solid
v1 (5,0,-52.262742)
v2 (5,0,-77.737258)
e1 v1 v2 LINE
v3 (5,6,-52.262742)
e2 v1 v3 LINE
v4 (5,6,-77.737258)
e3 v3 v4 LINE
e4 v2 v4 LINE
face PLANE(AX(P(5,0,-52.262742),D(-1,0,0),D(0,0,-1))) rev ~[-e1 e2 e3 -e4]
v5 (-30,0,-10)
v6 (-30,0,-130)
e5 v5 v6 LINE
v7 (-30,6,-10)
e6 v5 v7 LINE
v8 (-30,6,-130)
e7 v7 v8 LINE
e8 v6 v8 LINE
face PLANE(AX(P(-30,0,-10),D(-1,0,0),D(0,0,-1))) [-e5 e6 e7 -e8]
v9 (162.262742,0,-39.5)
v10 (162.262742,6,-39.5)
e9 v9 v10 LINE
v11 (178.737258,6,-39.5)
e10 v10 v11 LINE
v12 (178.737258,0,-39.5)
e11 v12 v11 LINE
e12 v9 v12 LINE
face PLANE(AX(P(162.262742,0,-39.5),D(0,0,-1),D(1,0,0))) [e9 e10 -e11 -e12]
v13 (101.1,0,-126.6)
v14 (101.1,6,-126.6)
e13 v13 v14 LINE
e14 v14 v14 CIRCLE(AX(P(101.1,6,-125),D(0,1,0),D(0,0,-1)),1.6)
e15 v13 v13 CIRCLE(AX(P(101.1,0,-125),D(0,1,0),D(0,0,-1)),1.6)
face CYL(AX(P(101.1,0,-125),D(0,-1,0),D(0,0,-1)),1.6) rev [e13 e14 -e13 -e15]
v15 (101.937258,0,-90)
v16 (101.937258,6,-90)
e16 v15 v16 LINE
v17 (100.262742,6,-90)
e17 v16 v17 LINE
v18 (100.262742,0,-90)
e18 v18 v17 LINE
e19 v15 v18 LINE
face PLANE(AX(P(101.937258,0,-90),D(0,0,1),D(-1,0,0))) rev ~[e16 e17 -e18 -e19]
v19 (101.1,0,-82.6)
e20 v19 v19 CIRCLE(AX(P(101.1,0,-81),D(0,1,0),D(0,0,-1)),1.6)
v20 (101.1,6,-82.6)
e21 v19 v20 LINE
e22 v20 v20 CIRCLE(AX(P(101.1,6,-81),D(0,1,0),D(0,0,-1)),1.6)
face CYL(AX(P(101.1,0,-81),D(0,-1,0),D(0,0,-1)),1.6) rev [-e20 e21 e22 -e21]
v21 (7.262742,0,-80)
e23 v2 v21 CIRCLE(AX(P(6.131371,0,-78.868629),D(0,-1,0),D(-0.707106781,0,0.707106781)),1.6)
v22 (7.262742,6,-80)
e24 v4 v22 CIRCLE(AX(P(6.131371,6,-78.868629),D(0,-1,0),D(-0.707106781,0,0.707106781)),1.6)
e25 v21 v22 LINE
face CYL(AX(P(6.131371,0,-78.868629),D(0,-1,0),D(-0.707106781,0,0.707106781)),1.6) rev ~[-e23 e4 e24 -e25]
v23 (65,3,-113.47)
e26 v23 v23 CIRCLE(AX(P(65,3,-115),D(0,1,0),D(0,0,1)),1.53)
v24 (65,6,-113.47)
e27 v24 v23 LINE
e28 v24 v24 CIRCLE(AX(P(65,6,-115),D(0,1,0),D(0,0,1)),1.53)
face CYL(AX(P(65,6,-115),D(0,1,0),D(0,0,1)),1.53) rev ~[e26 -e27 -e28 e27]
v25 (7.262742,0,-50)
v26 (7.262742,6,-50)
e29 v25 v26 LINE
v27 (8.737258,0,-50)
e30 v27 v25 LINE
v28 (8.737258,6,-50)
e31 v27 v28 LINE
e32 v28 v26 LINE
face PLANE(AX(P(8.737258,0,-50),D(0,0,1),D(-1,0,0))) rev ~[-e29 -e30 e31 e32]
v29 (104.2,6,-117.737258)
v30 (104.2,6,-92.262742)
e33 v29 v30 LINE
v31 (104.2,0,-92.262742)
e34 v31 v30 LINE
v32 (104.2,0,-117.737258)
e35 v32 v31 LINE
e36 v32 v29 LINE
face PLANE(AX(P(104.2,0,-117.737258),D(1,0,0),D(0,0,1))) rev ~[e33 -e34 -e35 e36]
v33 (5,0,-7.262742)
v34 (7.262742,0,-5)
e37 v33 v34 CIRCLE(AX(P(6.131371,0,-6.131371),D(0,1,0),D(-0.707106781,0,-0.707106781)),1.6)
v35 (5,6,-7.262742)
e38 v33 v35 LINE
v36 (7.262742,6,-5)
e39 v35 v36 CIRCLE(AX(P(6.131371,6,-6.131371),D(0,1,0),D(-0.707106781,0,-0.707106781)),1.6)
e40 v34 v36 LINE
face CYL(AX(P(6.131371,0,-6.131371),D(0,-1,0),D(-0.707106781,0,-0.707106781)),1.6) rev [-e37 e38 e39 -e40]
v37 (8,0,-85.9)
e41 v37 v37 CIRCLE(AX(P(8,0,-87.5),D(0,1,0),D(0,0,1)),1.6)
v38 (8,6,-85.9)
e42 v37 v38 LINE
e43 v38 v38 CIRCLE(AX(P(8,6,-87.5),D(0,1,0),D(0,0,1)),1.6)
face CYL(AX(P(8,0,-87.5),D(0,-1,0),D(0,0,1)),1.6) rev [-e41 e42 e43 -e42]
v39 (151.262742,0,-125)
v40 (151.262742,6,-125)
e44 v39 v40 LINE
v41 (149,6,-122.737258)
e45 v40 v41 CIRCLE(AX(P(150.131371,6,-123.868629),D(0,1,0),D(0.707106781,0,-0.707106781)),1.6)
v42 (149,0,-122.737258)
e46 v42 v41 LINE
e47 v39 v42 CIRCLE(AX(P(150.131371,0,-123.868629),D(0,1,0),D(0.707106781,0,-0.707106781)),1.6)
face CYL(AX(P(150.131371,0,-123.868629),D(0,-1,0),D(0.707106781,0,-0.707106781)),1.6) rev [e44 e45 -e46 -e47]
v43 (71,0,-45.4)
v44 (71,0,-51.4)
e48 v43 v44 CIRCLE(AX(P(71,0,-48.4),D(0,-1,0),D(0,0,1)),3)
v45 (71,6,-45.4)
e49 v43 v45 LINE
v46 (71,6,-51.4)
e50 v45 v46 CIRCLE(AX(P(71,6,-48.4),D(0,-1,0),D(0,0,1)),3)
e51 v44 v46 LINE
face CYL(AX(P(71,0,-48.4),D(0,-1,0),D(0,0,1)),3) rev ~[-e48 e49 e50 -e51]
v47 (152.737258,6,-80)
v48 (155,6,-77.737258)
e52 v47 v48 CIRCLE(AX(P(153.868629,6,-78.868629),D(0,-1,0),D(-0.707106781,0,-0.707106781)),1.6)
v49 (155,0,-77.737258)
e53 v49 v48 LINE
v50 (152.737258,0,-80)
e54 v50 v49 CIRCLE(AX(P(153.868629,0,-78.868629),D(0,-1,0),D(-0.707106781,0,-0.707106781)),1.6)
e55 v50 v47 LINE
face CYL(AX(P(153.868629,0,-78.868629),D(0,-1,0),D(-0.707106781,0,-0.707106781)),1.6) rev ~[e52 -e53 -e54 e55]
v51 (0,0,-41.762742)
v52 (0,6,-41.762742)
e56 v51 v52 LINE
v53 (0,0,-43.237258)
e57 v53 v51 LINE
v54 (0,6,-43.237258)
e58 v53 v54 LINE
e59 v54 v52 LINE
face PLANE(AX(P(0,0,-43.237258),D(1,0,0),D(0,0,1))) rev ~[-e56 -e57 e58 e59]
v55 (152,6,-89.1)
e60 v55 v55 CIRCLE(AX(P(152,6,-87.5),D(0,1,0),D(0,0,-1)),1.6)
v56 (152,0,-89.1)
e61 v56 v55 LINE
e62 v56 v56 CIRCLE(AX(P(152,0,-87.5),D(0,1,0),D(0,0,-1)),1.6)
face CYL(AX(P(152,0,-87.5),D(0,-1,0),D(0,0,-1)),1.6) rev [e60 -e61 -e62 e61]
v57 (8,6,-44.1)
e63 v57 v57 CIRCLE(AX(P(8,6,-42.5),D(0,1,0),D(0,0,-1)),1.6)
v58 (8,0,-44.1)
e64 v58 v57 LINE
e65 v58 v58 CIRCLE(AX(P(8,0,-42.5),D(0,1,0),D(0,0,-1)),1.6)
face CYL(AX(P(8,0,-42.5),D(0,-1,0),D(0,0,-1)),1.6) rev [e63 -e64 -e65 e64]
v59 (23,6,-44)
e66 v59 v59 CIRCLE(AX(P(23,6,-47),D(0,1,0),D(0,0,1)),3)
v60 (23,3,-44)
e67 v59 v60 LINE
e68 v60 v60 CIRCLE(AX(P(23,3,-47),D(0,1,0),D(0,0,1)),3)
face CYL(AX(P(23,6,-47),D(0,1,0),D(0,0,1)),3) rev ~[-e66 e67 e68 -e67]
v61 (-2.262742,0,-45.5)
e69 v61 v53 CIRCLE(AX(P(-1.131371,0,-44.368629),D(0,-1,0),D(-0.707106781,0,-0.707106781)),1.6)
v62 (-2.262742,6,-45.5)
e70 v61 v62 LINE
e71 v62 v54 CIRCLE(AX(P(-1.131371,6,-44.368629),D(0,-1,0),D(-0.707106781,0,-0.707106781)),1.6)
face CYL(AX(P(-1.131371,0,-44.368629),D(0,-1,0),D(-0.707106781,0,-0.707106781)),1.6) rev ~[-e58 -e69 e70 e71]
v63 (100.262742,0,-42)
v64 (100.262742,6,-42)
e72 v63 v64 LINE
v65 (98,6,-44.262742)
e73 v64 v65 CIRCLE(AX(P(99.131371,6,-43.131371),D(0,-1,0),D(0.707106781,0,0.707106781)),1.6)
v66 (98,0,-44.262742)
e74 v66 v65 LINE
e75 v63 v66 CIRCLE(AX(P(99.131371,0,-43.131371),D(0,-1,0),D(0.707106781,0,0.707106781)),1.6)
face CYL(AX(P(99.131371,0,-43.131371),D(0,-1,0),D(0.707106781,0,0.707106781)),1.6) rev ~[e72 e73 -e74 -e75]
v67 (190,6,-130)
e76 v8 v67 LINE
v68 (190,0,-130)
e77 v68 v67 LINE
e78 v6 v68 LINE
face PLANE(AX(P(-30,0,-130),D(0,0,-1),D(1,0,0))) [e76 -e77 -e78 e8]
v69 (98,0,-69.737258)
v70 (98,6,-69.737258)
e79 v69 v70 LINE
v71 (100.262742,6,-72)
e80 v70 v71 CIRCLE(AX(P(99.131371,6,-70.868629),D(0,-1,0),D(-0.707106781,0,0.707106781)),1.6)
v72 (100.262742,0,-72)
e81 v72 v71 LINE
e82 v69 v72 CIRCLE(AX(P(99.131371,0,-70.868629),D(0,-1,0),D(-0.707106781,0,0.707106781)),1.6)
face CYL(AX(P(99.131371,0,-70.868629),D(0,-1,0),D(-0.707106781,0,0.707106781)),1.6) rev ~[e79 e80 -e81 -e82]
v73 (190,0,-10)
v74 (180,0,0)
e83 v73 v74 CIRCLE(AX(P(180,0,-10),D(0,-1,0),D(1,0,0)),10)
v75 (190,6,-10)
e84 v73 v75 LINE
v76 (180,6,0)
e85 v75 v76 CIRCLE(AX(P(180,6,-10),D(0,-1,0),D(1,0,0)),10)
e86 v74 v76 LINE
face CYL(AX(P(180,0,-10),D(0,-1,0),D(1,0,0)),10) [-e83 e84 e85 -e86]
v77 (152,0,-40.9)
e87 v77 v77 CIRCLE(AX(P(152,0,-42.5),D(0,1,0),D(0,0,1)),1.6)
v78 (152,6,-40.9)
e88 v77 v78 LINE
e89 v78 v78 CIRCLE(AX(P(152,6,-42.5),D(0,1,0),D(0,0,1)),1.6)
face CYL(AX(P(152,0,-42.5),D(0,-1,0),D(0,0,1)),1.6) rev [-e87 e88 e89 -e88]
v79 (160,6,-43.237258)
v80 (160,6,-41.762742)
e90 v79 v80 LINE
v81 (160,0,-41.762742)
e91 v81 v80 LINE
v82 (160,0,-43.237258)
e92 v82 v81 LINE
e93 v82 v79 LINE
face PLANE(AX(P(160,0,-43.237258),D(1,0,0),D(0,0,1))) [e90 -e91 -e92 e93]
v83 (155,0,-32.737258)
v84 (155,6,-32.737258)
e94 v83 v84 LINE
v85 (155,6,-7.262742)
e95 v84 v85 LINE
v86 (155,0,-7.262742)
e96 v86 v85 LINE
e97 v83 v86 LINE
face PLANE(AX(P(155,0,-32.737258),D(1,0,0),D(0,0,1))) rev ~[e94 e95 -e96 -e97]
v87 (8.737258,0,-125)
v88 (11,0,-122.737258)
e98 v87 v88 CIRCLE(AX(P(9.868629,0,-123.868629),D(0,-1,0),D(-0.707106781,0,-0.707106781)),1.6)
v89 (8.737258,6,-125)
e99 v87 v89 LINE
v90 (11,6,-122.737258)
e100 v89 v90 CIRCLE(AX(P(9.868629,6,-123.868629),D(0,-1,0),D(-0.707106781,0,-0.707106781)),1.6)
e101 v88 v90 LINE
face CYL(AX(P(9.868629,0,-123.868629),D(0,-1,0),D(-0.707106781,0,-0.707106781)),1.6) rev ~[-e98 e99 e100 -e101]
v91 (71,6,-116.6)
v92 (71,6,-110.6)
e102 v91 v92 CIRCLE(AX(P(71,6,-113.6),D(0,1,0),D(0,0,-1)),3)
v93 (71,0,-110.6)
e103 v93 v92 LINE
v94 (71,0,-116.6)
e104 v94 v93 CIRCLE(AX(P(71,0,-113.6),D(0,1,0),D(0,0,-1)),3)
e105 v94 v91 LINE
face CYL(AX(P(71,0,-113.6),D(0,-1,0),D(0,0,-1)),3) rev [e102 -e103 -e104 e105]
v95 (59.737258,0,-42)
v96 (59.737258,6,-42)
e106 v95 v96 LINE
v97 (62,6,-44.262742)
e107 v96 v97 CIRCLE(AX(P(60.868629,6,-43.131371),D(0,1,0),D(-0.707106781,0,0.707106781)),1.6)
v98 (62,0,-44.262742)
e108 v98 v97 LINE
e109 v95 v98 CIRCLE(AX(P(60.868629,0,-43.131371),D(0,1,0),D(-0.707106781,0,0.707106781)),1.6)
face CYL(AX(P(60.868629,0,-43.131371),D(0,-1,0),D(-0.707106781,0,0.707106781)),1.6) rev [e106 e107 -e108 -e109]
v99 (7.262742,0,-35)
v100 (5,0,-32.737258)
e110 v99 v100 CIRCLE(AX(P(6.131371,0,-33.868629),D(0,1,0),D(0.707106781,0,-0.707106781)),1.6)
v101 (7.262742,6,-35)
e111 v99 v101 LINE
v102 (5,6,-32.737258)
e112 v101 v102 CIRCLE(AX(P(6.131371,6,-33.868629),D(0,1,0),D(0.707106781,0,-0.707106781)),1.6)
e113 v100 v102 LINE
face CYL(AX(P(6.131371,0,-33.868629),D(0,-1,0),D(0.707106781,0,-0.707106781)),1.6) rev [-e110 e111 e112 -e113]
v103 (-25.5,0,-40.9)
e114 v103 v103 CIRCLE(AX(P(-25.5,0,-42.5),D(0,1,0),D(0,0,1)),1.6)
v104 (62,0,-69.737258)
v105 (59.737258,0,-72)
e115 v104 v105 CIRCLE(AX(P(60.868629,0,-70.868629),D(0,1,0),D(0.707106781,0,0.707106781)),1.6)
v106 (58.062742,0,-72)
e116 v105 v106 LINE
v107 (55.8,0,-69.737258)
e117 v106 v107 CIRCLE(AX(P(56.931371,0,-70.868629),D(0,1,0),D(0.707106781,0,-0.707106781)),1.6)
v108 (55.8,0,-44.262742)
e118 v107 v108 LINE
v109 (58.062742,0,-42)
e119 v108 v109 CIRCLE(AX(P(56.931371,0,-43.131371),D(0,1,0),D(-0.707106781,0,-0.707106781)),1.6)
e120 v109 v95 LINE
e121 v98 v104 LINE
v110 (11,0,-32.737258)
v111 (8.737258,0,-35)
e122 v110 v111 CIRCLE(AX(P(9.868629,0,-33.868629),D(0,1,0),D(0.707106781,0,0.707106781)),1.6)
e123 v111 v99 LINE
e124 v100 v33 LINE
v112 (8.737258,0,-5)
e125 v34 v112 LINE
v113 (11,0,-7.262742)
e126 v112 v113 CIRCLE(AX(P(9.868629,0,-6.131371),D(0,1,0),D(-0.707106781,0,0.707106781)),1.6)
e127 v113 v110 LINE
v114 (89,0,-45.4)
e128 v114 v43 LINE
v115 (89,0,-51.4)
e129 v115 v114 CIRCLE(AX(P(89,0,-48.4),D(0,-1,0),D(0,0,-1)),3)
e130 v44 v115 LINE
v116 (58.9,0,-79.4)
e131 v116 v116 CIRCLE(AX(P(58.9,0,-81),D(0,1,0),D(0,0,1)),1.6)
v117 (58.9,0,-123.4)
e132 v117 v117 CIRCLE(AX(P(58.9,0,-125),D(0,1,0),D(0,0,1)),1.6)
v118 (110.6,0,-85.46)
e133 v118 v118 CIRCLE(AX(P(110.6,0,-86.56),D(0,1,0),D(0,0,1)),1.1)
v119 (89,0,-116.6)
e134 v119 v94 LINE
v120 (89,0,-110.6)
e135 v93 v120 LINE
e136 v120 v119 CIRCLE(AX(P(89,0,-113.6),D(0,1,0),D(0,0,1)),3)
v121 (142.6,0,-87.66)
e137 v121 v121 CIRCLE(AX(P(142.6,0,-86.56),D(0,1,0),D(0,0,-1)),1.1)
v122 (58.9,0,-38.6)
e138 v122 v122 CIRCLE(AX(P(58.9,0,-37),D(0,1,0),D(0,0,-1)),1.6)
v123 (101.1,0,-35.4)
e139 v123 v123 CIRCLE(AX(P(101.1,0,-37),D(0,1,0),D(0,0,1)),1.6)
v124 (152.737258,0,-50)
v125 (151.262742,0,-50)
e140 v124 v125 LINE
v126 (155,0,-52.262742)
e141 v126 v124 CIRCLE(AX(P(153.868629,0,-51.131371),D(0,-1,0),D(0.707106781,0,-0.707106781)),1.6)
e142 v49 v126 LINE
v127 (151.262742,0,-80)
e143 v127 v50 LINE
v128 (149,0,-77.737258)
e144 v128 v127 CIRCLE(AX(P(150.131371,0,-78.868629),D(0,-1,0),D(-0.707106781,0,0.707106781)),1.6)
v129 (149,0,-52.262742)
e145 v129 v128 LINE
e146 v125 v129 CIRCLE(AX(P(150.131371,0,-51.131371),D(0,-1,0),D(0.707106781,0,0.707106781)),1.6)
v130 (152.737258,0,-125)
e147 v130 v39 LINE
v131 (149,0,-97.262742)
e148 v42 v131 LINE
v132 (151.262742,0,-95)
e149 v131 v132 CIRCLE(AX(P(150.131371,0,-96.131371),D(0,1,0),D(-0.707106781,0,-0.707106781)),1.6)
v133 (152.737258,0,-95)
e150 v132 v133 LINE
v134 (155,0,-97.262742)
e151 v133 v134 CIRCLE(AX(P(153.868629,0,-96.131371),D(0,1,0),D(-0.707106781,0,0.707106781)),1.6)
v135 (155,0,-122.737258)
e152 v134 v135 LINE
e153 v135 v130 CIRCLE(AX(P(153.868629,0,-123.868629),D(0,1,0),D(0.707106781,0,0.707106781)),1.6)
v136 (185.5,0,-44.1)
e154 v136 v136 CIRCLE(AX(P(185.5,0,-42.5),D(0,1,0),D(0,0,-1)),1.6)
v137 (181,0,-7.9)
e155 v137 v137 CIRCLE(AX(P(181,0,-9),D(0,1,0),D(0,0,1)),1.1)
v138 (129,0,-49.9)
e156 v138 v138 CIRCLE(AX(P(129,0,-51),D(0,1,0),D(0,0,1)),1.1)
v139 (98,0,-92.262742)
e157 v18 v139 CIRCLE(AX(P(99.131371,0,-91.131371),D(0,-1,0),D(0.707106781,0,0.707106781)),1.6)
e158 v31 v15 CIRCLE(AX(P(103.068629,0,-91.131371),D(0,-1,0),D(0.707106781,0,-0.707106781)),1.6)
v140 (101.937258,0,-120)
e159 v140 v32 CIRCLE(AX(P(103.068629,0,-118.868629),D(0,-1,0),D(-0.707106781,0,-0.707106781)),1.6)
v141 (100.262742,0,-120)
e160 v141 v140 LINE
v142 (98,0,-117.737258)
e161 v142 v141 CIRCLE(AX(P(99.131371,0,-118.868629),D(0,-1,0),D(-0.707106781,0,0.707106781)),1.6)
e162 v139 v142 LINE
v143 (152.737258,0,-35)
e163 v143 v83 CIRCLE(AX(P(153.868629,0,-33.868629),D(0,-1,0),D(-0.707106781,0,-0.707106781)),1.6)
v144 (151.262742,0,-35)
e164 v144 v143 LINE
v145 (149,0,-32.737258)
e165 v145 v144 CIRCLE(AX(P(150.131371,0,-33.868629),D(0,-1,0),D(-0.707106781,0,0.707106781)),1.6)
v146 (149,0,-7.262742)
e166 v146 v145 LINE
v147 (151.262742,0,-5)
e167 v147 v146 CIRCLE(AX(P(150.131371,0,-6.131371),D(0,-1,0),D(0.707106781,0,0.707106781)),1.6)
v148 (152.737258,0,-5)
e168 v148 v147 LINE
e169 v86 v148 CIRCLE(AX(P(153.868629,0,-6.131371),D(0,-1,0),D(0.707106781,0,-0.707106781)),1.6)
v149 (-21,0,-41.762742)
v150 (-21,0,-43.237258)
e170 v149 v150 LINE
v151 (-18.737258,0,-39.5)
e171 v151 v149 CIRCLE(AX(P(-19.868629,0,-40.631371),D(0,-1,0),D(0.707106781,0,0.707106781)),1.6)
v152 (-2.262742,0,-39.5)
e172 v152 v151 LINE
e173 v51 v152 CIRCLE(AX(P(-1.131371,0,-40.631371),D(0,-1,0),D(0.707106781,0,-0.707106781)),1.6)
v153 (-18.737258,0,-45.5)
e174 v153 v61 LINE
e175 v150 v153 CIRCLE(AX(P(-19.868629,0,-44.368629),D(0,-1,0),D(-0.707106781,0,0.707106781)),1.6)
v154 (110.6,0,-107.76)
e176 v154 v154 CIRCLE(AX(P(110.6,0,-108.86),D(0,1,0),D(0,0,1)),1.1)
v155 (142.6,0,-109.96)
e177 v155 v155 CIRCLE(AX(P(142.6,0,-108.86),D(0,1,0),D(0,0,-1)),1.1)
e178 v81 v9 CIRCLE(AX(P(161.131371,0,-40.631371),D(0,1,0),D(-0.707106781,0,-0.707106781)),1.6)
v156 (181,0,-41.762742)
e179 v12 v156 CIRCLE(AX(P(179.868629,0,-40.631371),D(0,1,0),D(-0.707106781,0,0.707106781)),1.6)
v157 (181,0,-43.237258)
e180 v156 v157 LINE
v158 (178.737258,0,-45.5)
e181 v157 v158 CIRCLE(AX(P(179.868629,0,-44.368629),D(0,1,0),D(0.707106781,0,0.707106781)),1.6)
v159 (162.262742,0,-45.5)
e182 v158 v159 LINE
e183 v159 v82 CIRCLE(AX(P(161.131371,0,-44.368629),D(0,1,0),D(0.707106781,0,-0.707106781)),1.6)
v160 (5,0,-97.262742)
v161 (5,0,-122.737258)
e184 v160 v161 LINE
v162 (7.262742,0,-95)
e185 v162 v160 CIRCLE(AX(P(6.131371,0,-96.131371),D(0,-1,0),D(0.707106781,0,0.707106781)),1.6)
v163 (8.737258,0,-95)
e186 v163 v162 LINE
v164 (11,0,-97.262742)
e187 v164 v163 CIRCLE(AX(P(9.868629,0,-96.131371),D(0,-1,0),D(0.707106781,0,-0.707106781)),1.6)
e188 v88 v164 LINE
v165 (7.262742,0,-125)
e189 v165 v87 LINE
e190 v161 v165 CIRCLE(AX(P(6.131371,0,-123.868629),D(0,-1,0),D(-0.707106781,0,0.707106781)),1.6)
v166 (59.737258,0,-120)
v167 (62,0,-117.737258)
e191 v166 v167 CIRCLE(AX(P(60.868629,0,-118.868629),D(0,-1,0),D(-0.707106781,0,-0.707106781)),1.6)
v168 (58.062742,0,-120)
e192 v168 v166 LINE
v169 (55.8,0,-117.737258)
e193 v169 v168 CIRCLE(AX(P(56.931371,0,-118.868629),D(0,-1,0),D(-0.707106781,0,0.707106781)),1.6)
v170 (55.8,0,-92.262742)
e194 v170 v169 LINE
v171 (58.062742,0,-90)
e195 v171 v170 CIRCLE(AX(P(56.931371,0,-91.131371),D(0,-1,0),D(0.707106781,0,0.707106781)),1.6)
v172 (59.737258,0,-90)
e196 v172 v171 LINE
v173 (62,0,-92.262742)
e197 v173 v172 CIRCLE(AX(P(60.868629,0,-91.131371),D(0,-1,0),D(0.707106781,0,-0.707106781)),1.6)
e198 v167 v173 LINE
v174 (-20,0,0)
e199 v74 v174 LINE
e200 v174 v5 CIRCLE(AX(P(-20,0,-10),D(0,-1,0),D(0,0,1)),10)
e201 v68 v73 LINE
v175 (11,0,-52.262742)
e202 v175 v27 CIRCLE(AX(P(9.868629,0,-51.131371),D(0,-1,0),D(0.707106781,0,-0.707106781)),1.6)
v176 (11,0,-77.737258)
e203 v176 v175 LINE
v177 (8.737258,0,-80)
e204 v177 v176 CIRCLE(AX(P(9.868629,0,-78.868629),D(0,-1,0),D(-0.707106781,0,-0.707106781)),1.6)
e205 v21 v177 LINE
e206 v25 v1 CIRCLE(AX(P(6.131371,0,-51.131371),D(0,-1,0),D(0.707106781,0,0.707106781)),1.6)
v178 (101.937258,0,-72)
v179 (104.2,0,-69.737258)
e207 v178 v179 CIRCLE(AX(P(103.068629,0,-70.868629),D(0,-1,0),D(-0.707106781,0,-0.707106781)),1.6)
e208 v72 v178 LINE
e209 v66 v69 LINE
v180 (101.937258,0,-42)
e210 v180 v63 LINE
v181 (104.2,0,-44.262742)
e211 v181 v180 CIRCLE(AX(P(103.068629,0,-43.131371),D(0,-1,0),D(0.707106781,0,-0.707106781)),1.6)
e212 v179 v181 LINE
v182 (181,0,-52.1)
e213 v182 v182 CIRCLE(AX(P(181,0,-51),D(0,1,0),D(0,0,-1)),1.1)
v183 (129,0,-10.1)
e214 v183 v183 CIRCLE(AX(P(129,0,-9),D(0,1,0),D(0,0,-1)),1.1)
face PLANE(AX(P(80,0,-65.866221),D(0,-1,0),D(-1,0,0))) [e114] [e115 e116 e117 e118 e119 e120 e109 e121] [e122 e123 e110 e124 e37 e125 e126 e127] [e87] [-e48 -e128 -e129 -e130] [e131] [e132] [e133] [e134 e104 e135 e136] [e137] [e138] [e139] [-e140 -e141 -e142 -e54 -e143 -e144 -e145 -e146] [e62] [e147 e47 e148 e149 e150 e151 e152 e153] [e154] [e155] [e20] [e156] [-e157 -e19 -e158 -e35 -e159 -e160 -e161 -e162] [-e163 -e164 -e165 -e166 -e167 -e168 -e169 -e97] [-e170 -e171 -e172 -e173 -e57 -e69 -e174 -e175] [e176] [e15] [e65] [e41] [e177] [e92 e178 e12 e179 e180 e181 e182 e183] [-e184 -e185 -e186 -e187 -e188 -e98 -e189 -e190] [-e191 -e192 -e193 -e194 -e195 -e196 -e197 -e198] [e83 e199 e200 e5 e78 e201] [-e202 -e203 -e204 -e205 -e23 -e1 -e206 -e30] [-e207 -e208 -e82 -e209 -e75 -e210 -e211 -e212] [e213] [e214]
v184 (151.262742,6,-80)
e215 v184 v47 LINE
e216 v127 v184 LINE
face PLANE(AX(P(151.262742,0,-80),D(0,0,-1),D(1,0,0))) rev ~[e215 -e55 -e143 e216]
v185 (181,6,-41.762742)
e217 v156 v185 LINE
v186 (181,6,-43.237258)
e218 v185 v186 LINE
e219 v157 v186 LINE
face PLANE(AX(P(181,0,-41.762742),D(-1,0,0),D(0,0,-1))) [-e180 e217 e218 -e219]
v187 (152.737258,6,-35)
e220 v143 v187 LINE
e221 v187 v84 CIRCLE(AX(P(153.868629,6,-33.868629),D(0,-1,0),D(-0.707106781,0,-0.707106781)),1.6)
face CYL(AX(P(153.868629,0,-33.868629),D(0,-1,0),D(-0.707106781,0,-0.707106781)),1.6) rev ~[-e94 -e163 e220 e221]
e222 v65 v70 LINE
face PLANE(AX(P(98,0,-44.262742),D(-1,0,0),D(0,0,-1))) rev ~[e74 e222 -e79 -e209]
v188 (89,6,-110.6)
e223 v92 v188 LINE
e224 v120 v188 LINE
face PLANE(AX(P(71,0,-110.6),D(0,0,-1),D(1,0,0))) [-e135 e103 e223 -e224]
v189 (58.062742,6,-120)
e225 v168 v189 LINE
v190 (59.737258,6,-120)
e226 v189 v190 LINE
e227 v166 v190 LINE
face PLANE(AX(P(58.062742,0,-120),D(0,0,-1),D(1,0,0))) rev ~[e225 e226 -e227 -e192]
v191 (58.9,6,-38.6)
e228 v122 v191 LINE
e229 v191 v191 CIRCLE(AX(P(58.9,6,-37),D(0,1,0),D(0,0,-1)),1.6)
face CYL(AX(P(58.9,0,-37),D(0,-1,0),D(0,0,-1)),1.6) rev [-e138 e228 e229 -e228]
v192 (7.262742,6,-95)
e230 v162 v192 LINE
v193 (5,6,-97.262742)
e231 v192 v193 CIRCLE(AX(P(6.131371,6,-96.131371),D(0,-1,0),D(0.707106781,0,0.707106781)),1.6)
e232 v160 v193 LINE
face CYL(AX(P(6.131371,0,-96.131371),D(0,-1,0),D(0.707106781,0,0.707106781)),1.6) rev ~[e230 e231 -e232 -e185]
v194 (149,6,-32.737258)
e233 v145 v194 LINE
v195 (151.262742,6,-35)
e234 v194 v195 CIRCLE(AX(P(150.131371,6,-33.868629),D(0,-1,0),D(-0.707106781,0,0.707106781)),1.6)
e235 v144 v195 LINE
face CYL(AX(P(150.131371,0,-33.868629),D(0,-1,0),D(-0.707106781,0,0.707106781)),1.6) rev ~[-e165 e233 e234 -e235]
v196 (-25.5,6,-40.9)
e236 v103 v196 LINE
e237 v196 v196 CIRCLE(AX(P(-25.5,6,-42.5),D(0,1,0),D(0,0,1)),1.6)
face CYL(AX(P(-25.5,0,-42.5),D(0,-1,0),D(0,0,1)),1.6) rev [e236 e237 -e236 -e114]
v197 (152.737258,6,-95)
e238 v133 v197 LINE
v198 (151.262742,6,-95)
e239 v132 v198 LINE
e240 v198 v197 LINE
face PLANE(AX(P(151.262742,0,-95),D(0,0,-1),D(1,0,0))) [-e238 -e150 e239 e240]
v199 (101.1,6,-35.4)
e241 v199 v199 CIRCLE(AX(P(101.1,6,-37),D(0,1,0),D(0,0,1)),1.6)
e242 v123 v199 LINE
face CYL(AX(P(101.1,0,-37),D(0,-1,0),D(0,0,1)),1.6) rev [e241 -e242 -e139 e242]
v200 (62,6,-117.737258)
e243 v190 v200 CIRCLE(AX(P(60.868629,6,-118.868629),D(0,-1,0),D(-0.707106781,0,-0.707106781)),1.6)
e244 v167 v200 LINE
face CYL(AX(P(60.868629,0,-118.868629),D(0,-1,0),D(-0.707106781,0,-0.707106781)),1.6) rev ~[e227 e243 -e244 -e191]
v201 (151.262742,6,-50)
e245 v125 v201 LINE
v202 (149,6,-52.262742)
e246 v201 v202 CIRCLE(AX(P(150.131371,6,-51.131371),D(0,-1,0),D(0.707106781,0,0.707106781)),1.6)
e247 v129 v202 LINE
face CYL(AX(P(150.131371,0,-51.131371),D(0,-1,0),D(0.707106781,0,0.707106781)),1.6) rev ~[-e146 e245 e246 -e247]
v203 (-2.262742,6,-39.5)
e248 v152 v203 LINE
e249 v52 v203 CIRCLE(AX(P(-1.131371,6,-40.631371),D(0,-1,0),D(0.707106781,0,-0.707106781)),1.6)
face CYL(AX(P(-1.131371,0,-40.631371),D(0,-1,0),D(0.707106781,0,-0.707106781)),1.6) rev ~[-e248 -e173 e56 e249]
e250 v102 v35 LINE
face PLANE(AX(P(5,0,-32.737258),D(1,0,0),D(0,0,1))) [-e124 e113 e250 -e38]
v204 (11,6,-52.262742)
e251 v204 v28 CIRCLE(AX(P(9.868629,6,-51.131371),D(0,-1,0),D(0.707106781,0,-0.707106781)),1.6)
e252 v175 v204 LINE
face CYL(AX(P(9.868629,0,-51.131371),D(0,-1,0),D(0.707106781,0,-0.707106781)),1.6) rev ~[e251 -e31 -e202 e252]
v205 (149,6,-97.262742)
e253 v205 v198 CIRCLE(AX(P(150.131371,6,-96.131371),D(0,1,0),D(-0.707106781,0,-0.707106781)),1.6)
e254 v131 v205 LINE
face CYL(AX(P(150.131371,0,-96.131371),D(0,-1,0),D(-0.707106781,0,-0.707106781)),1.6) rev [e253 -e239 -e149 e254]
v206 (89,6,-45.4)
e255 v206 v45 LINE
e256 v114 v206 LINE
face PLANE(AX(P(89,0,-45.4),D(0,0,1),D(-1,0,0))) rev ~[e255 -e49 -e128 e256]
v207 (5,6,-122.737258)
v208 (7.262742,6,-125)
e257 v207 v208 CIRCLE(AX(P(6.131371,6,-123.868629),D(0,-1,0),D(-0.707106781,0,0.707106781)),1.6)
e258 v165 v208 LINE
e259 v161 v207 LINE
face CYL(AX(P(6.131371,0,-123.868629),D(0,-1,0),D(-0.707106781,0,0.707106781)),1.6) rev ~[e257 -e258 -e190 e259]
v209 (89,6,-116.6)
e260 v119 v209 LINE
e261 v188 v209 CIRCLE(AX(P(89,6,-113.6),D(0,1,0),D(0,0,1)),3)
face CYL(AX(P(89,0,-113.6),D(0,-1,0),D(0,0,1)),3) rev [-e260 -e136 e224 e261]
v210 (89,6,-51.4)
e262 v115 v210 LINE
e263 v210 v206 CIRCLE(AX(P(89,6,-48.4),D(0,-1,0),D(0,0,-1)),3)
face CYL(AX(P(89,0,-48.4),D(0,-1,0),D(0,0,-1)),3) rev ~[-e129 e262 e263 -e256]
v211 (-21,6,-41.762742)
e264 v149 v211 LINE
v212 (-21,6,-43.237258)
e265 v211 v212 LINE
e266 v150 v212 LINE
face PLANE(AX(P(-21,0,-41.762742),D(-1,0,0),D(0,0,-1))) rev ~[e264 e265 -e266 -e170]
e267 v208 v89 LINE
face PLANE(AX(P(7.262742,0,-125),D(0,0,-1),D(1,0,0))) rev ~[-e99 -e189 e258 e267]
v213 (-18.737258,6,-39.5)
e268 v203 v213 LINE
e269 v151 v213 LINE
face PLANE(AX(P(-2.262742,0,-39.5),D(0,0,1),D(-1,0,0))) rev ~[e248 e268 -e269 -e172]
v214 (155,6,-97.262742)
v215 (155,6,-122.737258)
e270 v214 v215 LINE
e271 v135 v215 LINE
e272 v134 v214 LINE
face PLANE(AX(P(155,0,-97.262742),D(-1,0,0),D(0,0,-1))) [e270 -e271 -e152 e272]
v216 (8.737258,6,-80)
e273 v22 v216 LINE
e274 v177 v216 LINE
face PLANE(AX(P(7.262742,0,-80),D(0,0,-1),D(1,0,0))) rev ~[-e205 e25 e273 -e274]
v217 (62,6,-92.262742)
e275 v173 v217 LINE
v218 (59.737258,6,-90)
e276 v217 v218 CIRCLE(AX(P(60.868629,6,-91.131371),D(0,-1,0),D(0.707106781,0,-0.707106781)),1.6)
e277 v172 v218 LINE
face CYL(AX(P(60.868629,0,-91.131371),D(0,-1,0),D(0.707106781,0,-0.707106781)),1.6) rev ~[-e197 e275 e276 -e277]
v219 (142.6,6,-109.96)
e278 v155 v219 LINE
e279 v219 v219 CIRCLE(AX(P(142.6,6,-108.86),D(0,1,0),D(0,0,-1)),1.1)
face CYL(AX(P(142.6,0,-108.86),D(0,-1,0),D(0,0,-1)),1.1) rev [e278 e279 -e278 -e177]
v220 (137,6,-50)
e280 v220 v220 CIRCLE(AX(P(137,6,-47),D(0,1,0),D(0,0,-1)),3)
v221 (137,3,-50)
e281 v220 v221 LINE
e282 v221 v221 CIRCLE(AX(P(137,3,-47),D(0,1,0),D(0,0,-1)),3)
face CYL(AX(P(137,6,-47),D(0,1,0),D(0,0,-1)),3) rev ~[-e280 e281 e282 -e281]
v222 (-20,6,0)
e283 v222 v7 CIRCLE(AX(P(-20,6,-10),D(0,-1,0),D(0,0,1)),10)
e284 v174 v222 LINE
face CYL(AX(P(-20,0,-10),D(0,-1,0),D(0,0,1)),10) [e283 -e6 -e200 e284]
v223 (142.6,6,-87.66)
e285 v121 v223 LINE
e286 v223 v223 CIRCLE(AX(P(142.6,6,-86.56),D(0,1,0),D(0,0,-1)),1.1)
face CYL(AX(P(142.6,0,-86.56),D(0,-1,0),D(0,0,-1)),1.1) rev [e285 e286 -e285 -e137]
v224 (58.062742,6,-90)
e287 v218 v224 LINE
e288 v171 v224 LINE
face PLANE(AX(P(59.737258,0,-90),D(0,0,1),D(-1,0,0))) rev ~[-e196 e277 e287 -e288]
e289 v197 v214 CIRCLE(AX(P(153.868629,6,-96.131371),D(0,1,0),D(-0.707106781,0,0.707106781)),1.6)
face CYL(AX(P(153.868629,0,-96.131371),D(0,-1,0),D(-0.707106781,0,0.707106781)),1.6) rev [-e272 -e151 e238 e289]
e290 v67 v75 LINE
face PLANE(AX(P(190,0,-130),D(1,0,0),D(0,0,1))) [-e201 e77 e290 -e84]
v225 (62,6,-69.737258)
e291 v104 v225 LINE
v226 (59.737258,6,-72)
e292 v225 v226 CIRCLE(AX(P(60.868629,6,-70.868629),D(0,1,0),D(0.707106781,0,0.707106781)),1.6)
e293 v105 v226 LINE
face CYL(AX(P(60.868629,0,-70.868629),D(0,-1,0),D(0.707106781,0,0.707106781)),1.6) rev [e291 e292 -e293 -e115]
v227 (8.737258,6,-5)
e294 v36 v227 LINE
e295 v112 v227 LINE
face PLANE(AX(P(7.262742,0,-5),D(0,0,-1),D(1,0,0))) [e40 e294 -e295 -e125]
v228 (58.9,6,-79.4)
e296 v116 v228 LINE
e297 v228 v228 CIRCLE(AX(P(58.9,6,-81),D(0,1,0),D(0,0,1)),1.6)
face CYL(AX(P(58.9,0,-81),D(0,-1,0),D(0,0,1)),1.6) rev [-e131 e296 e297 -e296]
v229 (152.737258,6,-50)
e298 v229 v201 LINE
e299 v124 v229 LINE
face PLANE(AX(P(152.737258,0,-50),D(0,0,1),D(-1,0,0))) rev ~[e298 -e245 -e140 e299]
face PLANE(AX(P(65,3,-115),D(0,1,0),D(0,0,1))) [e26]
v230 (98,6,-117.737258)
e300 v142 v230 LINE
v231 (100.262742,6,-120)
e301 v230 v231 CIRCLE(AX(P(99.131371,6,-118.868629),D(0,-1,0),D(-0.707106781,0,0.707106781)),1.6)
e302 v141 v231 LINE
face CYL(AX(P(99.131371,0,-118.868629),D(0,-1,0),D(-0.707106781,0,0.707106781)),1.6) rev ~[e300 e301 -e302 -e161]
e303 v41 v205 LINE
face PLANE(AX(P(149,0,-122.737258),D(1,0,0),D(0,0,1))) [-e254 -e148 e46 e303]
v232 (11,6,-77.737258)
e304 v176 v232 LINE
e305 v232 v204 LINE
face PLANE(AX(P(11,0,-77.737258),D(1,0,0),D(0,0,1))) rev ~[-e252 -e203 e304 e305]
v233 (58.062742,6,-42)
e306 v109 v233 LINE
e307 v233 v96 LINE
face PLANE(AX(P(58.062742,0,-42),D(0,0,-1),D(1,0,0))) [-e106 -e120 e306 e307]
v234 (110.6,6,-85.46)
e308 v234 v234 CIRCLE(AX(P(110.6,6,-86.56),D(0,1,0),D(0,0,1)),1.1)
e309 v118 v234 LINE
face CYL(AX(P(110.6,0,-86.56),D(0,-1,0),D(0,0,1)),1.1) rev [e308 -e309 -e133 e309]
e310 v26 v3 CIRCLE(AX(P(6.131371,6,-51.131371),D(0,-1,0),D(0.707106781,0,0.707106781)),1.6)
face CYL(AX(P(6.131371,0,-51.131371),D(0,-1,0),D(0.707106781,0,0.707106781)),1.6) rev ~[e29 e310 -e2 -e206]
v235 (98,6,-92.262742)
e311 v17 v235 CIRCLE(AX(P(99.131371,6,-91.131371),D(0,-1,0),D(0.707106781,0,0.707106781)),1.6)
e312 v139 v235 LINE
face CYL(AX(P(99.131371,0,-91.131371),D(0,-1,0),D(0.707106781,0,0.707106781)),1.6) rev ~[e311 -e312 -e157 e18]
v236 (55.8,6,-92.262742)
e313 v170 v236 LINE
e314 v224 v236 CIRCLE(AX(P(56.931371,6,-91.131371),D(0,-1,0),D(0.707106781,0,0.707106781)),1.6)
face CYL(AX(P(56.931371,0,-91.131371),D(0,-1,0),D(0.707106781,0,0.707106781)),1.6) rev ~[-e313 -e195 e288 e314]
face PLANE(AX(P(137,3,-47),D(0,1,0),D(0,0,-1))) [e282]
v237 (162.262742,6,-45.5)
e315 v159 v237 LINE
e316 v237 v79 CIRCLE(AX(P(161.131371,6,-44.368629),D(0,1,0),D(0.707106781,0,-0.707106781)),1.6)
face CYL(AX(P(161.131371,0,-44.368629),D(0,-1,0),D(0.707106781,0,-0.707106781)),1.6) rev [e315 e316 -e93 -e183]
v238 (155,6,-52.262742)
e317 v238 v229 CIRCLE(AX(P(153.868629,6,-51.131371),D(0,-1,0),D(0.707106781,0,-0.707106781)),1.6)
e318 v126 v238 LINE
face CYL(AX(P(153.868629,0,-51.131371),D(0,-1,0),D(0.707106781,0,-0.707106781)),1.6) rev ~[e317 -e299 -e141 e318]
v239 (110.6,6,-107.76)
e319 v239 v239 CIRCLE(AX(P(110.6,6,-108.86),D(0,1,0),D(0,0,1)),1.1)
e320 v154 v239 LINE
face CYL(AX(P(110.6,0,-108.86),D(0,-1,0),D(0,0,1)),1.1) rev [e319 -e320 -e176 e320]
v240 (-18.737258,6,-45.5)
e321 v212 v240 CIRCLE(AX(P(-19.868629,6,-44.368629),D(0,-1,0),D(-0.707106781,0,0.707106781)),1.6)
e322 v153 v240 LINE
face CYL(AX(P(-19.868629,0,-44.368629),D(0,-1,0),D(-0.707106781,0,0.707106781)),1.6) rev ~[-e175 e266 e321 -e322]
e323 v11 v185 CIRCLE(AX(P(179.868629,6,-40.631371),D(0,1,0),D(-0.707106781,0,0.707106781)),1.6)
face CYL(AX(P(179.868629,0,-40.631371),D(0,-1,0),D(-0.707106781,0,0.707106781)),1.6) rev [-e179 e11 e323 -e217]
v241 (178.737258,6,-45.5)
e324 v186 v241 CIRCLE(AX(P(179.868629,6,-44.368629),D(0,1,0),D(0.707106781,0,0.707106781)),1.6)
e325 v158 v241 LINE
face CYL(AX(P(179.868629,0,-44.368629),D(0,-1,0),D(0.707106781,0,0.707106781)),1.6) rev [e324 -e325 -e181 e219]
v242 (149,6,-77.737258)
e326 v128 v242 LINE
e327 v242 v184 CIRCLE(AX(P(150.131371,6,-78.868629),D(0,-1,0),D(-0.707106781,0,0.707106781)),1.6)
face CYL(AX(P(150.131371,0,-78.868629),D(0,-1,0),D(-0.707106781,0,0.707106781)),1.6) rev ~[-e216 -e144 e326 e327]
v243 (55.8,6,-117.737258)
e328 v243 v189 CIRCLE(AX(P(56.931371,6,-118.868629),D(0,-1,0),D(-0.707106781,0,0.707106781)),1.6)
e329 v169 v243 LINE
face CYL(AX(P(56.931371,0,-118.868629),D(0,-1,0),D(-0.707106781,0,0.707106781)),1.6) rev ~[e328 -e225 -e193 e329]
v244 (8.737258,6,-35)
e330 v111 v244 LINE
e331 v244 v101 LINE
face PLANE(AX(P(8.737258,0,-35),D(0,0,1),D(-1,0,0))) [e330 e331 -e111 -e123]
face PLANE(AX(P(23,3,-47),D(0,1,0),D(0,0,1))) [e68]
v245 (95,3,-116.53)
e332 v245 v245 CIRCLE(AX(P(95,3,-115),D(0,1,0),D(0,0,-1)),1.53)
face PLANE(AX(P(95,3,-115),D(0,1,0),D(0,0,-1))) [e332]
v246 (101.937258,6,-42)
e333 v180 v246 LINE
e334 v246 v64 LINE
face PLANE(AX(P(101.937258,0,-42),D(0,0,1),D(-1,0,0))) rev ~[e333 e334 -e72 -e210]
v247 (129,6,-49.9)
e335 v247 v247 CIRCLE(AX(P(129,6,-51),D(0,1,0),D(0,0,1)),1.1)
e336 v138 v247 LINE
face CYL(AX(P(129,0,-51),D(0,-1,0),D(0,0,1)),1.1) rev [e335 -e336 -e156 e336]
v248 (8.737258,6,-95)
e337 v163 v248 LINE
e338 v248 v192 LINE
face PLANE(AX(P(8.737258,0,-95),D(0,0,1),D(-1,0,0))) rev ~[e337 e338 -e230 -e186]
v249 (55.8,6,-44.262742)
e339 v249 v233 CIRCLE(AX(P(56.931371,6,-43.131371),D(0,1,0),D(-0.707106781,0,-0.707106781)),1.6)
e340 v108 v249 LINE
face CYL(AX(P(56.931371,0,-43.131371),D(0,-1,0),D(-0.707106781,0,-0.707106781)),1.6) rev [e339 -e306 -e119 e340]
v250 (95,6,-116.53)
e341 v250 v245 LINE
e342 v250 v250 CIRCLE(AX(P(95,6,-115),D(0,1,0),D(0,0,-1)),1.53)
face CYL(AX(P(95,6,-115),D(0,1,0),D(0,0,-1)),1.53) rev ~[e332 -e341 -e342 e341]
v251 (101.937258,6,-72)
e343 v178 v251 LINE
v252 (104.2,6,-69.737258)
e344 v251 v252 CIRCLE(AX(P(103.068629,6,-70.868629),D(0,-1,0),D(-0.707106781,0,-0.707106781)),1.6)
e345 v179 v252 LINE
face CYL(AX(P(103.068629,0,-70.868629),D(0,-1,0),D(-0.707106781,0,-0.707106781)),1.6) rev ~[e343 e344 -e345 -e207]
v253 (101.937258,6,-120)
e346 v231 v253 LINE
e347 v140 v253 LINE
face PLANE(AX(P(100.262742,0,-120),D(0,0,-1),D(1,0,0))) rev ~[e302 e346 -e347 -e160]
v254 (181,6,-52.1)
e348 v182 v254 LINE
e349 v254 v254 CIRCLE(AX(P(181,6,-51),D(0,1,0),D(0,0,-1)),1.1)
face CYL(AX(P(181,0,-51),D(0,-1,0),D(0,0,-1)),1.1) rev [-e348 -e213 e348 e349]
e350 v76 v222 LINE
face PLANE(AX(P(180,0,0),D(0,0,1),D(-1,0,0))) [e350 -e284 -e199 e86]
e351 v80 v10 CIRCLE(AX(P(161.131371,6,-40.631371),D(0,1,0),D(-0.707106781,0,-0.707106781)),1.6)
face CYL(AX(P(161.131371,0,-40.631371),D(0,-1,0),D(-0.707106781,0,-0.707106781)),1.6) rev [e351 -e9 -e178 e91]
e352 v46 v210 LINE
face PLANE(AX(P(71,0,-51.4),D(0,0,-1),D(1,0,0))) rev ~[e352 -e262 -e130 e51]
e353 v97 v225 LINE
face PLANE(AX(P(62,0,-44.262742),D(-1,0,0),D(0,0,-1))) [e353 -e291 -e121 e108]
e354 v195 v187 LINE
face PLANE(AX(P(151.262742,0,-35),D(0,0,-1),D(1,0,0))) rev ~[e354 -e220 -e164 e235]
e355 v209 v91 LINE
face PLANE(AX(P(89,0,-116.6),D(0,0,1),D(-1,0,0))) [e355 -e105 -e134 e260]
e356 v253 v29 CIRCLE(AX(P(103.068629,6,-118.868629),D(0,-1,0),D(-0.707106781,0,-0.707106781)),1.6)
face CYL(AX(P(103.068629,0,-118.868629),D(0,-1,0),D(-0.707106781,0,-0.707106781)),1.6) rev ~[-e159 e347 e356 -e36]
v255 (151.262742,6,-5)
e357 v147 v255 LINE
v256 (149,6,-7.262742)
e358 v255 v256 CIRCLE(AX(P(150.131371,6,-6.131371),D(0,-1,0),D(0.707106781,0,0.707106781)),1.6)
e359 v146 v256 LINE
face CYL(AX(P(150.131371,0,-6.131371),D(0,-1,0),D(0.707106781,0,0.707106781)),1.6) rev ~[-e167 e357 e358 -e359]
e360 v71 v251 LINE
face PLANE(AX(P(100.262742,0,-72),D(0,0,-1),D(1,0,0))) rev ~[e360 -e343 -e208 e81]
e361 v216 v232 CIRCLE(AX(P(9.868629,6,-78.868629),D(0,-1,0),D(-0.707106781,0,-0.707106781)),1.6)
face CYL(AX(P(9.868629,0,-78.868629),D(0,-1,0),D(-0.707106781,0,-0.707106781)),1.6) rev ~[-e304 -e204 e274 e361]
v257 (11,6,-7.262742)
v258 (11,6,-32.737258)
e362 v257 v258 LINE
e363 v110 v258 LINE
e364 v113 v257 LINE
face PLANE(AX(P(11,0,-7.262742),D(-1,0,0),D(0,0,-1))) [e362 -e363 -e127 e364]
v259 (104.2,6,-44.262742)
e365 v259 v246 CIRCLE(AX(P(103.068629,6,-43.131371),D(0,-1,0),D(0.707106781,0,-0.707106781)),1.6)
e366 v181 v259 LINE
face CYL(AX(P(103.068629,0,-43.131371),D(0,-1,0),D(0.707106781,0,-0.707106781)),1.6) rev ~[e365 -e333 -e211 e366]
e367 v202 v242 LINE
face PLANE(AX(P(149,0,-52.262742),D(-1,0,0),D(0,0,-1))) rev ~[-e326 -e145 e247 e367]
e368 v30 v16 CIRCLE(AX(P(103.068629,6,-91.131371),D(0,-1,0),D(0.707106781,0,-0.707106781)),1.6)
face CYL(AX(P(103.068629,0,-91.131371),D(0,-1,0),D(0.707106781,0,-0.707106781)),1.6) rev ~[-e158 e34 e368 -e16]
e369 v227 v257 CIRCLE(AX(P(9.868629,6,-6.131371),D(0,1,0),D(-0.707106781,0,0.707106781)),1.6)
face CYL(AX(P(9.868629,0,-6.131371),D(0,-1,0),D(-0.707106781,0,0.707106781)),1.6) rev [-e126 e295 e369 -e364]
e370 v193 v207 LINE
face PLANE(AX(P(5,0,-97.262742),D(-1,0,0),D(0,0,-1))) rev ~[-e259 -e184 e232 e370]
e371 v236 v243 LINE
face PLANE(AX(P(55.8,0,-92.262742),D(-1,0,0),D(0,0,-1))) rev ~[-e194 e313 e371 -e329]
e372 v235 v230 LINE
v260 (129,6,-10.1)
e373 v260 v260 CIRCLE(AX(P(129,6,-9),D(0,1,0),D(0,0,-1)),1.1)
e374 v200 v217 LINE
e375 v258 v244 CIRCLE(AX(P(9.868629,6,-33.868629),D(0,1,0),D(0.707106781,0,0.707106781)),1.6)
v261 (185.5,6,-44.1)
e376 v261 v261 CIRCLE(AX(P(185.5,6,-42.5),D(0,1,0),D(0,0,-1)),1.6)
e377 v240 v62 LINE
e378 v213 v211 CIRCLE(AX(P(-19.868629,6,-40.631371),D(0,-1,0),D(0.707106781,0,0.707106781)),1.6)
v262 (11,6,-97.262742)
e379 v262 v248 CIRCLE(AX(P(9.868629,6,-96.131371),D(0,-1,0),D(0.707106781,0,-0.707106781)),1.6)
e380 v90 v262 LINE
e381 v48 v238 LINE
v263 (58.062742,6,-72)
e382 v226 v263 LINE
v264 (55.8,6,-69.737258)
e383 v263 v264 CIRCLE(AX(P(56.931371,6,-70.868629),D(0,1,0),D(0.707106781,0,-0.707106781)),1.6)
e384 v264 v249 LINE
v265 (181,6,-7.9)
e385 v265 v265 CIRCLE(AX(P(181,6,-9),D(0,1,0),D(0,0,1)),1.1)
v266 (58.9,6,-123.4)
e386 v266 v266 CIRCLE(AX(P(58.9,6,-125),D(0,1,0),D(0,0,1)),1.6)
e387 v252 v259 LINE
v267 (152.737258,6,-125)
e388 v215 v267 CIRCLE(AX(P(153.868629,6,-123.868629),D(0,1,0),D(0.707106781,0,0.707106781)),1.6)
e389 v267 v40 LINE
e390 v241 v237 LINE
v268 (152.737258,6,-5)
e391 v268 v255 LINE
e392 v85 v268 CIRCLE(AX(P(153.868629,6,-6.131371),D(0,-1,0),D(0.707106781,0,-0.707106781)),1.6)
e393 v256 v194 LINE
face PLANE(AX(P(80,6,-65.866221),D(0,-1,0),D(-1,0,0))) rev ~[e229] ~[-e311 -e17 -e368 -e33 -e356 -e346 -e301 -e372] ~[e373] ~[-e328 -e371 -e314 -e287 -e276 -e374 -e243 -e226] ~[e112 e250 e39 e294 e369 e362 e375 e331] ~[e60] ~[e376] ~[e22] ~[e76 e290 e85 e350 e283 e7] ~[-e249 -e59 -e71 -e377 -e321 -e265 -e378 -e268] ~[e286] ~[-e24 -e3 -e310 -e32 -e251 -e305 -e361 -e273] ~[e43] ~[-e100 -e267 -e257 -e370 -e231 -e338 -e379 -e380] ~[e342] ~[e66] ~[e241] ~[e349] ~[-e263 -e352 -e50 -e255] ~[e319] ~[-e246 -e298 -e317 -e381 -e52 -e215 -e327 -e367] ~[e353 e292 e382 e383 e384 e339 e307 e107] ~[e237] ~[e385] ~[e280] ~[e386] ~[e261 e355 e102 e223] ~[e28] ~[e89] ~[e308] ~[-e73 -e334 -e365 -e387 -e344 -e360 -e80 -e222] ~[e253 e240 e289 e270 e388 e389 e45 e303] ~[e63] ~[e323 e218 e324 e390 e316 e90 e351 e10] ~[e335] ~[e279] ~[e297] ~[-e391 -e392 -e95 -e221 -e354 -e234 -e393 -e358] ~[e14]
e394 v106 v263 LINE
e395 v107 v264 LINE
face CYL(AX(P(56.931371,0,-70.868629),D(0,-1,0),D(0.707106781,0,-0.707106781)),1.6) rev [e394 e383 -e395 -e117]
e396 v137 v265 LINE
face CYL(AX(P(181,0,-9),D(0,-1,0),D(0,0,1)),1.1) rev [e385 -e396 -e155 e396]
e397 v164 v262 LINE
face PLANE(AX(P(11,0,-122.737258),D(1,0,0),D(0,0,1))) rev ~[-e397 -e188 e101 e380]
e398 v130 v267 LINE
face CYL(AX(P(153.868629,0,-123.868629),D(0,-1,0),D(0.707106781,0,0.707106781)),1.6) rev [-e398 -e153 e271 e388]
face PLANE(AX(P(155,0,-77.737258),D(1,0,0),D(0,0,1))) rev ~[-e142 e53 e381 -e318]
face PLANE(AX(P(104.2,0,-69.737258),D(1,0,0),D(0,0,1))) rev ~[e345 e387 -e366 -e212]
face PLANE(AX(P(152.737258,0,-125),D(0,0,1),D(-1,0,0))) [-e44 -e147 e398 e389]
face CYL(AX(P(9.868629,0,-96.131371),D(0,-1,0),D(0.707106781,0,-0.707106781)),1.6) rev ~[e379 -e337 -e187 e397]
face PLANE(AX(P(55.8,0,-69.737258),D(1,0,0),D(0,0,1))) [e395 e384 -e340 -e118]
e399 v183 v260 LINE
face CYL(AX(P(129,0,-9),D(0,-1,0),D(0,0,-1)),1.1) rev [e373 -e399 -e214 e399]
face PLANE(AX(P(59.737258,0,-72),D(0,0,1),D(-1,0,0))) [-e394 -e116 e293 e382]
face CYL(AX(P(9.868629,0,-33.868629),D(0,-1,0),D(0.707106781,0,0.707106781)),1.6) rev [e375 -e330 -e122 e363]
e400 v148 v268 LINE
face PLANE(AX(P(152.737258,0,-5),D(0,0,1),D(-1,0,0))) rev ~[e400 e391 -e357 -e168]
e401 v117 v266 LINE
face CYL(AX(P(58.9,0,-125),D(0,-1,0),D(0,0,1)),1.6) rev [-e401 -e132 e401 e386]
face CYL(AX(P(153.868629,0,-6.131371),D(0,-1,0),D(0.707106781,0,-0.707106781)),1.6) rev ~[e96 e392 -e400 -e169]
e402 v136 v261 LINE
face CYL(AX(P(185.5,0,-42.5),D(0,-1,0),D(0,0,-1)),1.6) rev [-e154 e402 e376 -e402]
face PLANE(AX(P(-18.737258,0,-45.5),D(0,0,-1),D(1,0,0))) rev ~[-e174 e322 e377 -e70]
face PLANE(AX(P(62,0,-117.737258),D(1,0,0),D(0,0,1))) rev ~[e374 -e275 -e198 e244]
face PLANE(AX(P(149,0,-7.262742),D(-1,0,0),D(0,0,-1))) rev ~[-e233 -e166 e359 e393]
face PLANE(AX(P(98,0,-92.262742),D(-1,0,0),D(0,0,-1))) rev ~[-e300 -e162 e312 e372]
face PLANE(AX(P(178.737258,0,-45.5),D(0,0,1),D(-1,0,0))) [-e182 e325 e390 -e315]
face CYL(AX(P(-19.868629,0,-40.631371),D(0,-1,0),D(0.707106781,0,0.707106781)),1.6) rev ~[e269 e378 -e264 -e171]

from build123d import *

# Parameters (mm, degrees)
ESQUISSE2_R             = 1.6
ESQUISSE2_R_2           = 1.1
EXTRUSION1_DEPTH        = 6
ESQUISSE4_R             = 1.53
ESQUISSE4_R_2           = 3
ENL_V_MAT_EXTRU_2_DEPTH = 3


with BuildPart() as part:
    # Esquisse2 → Extrusion1 (new body)
    with BuildSketch(Plane(origin=(0, 0, 0), x_dir=(1, 0, 0), z_dir=(0, 1, 0))):
        with BuildLine():
            Line((-30, 10), (-30, 130))
            Line((-30, 130), (190, 130))
            Line((190, 130), (190, 10))
            ThreePointArc((190, 10), (187.071067812, 2.928932188), (180, 0))
            Line((180, 0), (-20, 0))
            ThreePointArc((-20, 0), (-27.071067812, 2.928932188), (-30, 10))
        make_face()
        with Locations(Location((8, 87.5, 0), (0, 0, 270))):  # turned: the seam where the file's is
            Circle(ESQUISSE2_R, mode=Mode.SUBTRACT)
        with Locations(Location((8, 42.5, 0), (0, 0, 90))):  # turned: the seam where the file's is
            Circle(ESQUISSE2_R, mode=Mode.SUBTRACT)
        with Locations(Location((152, 42.5, 0), (0, 0, 270))):  # turned: the seam where the file's is
            Circle(ESQUISSE2_R, mode=Mode.SUBTRACT)
        with Locations(Location((152, 87.5, 0), (0, 0, 90))):  # turned: the seam where the file's is
            Circle(ESQUISSE2_R, mode=Mode.SUBTRACT)
        with Locations(Location((58.9, 125, 0), (0, 0, 270))):  # turned: the seam where the file's is
            Circle(ESQUISSE2_R, mode=Mode.SUBTRACT)
        with Locations(Location((110.6, 108.86, 0), (0, 0, 270))):  # turned: the seam where the file's is
            Circle(ESQUISSE2_R_2, mode=Mode.SUBTRACT)
        with Locations(Location((-25.5, 42.5, 0), (0, 0, 270))):  # turned: the seam where the file's is
            Circle(ESQUISSE2_R, mode=Mode.SUBTRACT)
        with Locations(Location((185.5, 42.5, 0), (0, 0, 90))):  # turned: the seam where the file's is
            Circle(ESQUISSE2_R, mode=Mode.SUBTRACT)
        with Locations(Location((110.6, 86.56, 0), (0, 0, 270))):  # turned: the seam where the file's is
            Circle(ESQUISSE2_R_2, mode=Mode.SUBTRACT)
        with Locations(Location((58.9, 81, 0), (0, 0, 270))):  # turned: the seam where the file's is
            Circle(ESQUISSE2_R, mode=Mode.SUBTRACT)
        with Locations(Location((58.9, 37, 0), (0, 0, 90))):  # turned: the seam where the file's is
            Circle(ESQUISSE2_R, mode=Mode.SUBTRACT)
        with Locations(Location((101.1, 37, 0), (0, 0, 270))):  # turned: the seam where the file's is
            Circle(ESQUISSE2_R, mode=Mode.SUBTRACT)
        with Locations(Location((101.1, 81, 0), (0, 0, 90))):  # turned: the seam where the file's is
            Circle(ESQUISSE2_R, mode=Mode.SUBTRACT)
        with Locations(Location((101.1, 125, 0), (0, 0, 90))):  # turned: the seam where the file's is
            Circle(ESQUISSE2_R, mode=Mode.SUBTRACT)
        with Locations(Location((142.6, 108.86, 0), (0, 0, 90))):  # turned: the seam where the file's is
            Circle(ESQUISSE2_R_2, mode=Mode.SUBTRACT)
        with Locations(Location((142.6, 86.56, 0), (0, 0, 90))):  # turned: the seam where the file's is
            Circle(ESQUISSE2_R_2, mode=Mode.SUBTRACT)
        with Locations(Location((181, 9, 0), (0, 0, 270))):  # turned: the seam where the file's is
            Circle(ESQUISSE2_R_2, mode=Mode.SUBTRACT)
        with Locations(Location((129, 9, 0), (0, 0, 90))):  # turned: the seam where the file's is
            Circle(ESQUISSE2_R_2, mode=Mode.SUBTRACT)
        with Locations(Location((129, 51, 0), (0, 0, 270))):  # turned: the seam where the file's is
            Circle(ESQUISSE2_R_2, mode=Mode.SUBTRACT)
        with Locations(Location((181, 51, 0), (0, 0, 90))):  # turned: the seam where the file's is
            Circle(ESQUISSE2_R_2, mode=Mode.SUBTRACT)
        with BuildLine():
            Line((7.2627417, 125), (8.7372583, 125))
            ThreePointArc((8.7372583, 125), (11, 125), (11, 122.7372583))
            Line((11, 122.7372583), (11, 97.2627417))
            ThreePointArc((11, 97.2627417), (11, 95), (8.7372583, 95))
            Line((8.7372583, 95), (7.2627417, 95))
            ThreePointArc((7.2627417, 95), (5, 95), (5, 97.2627417))
            Line((5, 97.2627417), (5, 122.7372583))
            ThreePointArc((5, 122.7372583), (5, 125), (7.2627417, 125))
        make_face(mode=Mode.SUBTRACT)
        with BuildLine():
            Line((7.2627417, 80), (8.7372583, 80))
            ThreePointArc((8.7372583, 80), (11, 80), (11, 77.7372583))
            Line((11, 77.7372583), (11, 52.2627417))
            ThreePointArc((11, 52.2627417), (11, 50), (8.7372583, 50))
            Line((8.7372583, 50), (7.2627417, 50))
            ThreePointArc((7.2627417, 50), (5, 50), (5, 52.2627417))
            Line((5, 52.2627417), (5, 77.7372583))
            ThreePointArc((5, 77.7372583), (5, 80), (7.2627417, 80))
        make_face(mode=Mode.SUBTRACT)
        with BuildLine():
            Line((8.7372583, 35), (7.2627417, 35))
            ThreePointArc((7.2627417, 35), (5, 35), (5, 32.7372583))
            Line((5, 32.7372583), (5, 7.2627417))
            ThreePointArc((5, 7.2627417), (5, 5), (7.2627417, 5))
            Line((7.2627417, 5), (8.7372583, 5))
            ThreePointArc((8.7372583, 5), (11, 5), (11, 7.2627417))
            Line((11, 7.2627417), (11, 32.7372583))
            ThreePointArc((11, 32.7372583), (11, 35), (8.7372583, 35))
        make_face(mode=Mode.SUBTRACT)
        with BuildLine():
            Line((152.7372583, 5), (151.2627417, 5))
            ThreePointArc((151.2627417, 5), (149, 5), (149, 7.2627417))
            Line((149, 7.2627417), (149, 32.7372583))
            ThreePointArc((149, 32.7372583), (149, 35), (151.2627417, 35))
            Line((151.2627417, 35), (152.7372583, 35))
            ThreePointArc((152.7372583, 35), (155, 35), (155, 32.7372583))
            Line((155, 32.7372583), (155, 7.2627417))
            ThreePointArc((155, 7.2627417), (155, 5), (152.7372583, 5))
        make_face(mode=Mode.SUBTRACT)
        with BuildLine():
            Line((155, 77.7372583), (155, 52.2627417))
            ThreePointArc((155, 52.2627417), (155, 50), (152.7372583, 50))
            Line((152.7372583, 50), (151.2627417, 50))
            ThreePointArc((151.2627417, 50), (149, 50), (149, 52.2627417))
            Line((149, 52.2627417), (149, 77.7372583))
            ThreePointArc((149, 77.7372583), (149, 80), (151.2627417, 80))
            Line((151.2627417, 80), (152.7372583, 80))
            ThreePointArc((152.7372583, 80), (155, 80), (155, 77.7372583))
        make_face(mode=Mode.SUBTRACT)
        with BuildLine():
            Line((151.2627417, 95), (152.7372583, 95))
            ThreePointArc((152.7372583, 95), (155, 95), (155, 97.2627417))
            Line((155, 97.2627417), (155, 122.7372583))
            ThreePointArc((155, 122.7372583), (155, 125), (152.7372583, 125))
            Line((152.7372583, 125), (151.2627417, 125))
            ThreePointArc((151.2627417, 125), (149, 125), (149, 122.7372583))
            Line((149, 122.7372583), (149, 97.2627417))
            ThreePointArc((149, 97.2627417), (149, 95), (151.2627417, 95))
        make_face(mode=Mode.SUBTRACT)
        with BuildLine():
            Line((181, 41.7627417), (181, 43.2372583))
            ThreePointArc((181, 43.2372583), (181, 45.5), (178.7372583, 45.5))
            Line((178.7372583, 45.5), (162.2627417, 45.5))
            ThreePointArc((162.2627417, 45.5), (160, 45.5), (160, 43.2372583))
            Line((160, 43.2372583), (160, 41.7627417))
            ThreePointArc((160, 41.7627417), (160, 39.5), (162.2627417, 39.5))
            Line((162.2627417, 39.5), (178.7372583, 39.5))
            ThreePointArc((178.7372583, 39.5), (181, 39.5), (181, 41.7627417))
        make_face(mode=Mode.SUBTRACT)
        with BuildLine():
            Line((-2.2627417, 39.5), (-18.7372583, 39.5))
            ThreePointArc((-18.7372583, 39.5), (-21, 39.5), (-21, 41.7627417))
            Line((-21, 41.7627417), (-21, 43.2372583))
            ThreePointArc((-21, 43.2372583), (-21, 45.5), (-18.7372583, 45.5))
            Line((-18.7372583, 45.5), (-2.2627417, 45.5))
            ThreePointArc((-2.2627417, 45.5), (0, 45.5), (0, 43.2372583))
            Line((0, 43.2372583), (0, 41.7627417))
            ThreePointArc((0, 41.7627417), (0, 39.5), (-2.2627417, 39.5))
        make_face(mode=Mode.SUBTRACT)
        with BuildLine():
            Line((71, 51.4), (89, 51.4))
            ThreePointArc((89, 51.4), (92, 48.4), (89, 45.4))
            Line((89, 45.4), (71, 45.4))
            ThreePointArc((71, 45.4), (68, 48.4), (71, 51.4))
        make_face(mode=Mode.SUBTRACT)
        with BuildLine():
            Line((89, 116.6), (71, 116.6))
            ThreePointArc((71, 116.6), (68, 113.6), (71, 110.6))
            Line((71, 110.6), (89, 110.6))
            ThreePointArc((89, 110.6), (92, 113.6), (89, 116.6))
        make_face(mode=Mode.SUBTRACT)
        with BuildLine():
            Line((62, 44.2627417), (62, 69.7372583))
            ThreePointArc((62, 69.7372583), (62, 72), (59.7372583, 72))
            Line((59.7372583, 72), (58.0627417, 72))
            ThreePointArc((58.0627417, 72), (55.8, 72), (55.8, 69.7372583))
            Line((55.8, 69.7372583), (55.8, 44.2627417))
            ThreePointArc((55.8, 44.2627417), (55.8, 42), (58.0627417, 42))
            Line((58.0627417, 42), (59.7372583, 42))
            ThreePointArc((59.7372583, 42), (62, 42), (62, 44.2627417))
        make_face(mode=Mode.SUBTRACT)
        with BuildLine():
            Line((58.0627417, 120), (59.7372583, 120))
            ThreePointArc((59.7372583, 120), (62, 120), (62, 117.7372583))
            Line((62, 117.7372583), (62, 92.2627417))
            ThreePointArc((62, 92.2627417), (62, 90), (59.7372583, 90))
            Line((59.7372583, 90), (58.0627417, 90))
            ThreePointArc((58.0627417, 90), (55.8, 90), (55.8, 92.2627417))
            Line((55.8, 92.2627417), (55.8, 117.7372583))
            ThreePointArc((55.8, 117.7372583), (55.8, 120), (58.0627417, 120))
        make_face(mode=Mode.SUBTRACT)
        with BuildLine():
            Line((101.9372583, 42), (100.2627417, 42))
            ThreePointArc((100.2627417, 42), (98, 42), (98, 44.2627417))
            Line((98, 44.2627417), (98, 69.7372583))
            ThreePointArc((98, 69.7372583), (98, 72), (100.2627417, 72))
            Line((100.2627417, 72), (101.9372583, 72))
            ThreePointArc((101.9372583, 72), (104.2, 72), (104.2, 69.7372583))
            Line((104.2, 69.7372583), (104.2, 44.2627417))
            ThreePointArc((104.2, 44.2627417), (104.2, 42), (101.9372583, 42))
        make_face(mode=Mode.SUBTRACT)
        with BuildLine():
            Line((101.9372583, 90), (100.2627417, 90))
            ThreePointArc((100.2627417, 90), (98, 90), (98, 92.2627417))
            Line((98, 92.2627417), (98, 117.7372583))
            ThreePointArc((98, 117.7372583), (98, 120), (100.2627417, 120))
            Line((100.2627417, 120), (101.9372583, 120))
            ThreePointArc((101.9372583, 120), (104.2, 120), (104.2, 117.7372583))
            Line((104.2, 117.7372583), (104.2, 92.2627417))
            ThreePointArc((104.2, 92.2627417), (104.2, 90), (101.9372583, 90))
        make_face(mode=Mode.SUBTRACT)
    extrude(amount=EXTRUSION1_DEPTH)

    # Esquisse4 → Enlèv. mat.-Extru.2 (cut)
    with BuildSketch(Plane(origin=(0, 6, 0), x_dir=(-1, 0, 0), z_dir=(0, 1, 0))):
        with Locations(Location((-65, -115, 0), (0, 0, 90))):  # turned: the seam where the file's is
            Circle(ESQUISSE4_R)
        with Locations(Location((-23, -47, 0), (0, 0, 90))):  # turned: the seam where the file's is
            Circle(ESQUISSE4_R_2)
        with Locations(Location((-95, -115, 0), (0, 0, 270))):  # turned: the seam where the file's is
            Circle(ESQUISSE4_R)
        with Locations(Location((-137, -47, 0), (0, 0, 270))):  # turned: the seam where the file's is
            Circle(ESQUISSE4_R_2)
    extrude(amount=-ENL_V_MAT_EXTRU_2_DEPTH, mode=Mode.SUBTRACT)


solid = part.part
